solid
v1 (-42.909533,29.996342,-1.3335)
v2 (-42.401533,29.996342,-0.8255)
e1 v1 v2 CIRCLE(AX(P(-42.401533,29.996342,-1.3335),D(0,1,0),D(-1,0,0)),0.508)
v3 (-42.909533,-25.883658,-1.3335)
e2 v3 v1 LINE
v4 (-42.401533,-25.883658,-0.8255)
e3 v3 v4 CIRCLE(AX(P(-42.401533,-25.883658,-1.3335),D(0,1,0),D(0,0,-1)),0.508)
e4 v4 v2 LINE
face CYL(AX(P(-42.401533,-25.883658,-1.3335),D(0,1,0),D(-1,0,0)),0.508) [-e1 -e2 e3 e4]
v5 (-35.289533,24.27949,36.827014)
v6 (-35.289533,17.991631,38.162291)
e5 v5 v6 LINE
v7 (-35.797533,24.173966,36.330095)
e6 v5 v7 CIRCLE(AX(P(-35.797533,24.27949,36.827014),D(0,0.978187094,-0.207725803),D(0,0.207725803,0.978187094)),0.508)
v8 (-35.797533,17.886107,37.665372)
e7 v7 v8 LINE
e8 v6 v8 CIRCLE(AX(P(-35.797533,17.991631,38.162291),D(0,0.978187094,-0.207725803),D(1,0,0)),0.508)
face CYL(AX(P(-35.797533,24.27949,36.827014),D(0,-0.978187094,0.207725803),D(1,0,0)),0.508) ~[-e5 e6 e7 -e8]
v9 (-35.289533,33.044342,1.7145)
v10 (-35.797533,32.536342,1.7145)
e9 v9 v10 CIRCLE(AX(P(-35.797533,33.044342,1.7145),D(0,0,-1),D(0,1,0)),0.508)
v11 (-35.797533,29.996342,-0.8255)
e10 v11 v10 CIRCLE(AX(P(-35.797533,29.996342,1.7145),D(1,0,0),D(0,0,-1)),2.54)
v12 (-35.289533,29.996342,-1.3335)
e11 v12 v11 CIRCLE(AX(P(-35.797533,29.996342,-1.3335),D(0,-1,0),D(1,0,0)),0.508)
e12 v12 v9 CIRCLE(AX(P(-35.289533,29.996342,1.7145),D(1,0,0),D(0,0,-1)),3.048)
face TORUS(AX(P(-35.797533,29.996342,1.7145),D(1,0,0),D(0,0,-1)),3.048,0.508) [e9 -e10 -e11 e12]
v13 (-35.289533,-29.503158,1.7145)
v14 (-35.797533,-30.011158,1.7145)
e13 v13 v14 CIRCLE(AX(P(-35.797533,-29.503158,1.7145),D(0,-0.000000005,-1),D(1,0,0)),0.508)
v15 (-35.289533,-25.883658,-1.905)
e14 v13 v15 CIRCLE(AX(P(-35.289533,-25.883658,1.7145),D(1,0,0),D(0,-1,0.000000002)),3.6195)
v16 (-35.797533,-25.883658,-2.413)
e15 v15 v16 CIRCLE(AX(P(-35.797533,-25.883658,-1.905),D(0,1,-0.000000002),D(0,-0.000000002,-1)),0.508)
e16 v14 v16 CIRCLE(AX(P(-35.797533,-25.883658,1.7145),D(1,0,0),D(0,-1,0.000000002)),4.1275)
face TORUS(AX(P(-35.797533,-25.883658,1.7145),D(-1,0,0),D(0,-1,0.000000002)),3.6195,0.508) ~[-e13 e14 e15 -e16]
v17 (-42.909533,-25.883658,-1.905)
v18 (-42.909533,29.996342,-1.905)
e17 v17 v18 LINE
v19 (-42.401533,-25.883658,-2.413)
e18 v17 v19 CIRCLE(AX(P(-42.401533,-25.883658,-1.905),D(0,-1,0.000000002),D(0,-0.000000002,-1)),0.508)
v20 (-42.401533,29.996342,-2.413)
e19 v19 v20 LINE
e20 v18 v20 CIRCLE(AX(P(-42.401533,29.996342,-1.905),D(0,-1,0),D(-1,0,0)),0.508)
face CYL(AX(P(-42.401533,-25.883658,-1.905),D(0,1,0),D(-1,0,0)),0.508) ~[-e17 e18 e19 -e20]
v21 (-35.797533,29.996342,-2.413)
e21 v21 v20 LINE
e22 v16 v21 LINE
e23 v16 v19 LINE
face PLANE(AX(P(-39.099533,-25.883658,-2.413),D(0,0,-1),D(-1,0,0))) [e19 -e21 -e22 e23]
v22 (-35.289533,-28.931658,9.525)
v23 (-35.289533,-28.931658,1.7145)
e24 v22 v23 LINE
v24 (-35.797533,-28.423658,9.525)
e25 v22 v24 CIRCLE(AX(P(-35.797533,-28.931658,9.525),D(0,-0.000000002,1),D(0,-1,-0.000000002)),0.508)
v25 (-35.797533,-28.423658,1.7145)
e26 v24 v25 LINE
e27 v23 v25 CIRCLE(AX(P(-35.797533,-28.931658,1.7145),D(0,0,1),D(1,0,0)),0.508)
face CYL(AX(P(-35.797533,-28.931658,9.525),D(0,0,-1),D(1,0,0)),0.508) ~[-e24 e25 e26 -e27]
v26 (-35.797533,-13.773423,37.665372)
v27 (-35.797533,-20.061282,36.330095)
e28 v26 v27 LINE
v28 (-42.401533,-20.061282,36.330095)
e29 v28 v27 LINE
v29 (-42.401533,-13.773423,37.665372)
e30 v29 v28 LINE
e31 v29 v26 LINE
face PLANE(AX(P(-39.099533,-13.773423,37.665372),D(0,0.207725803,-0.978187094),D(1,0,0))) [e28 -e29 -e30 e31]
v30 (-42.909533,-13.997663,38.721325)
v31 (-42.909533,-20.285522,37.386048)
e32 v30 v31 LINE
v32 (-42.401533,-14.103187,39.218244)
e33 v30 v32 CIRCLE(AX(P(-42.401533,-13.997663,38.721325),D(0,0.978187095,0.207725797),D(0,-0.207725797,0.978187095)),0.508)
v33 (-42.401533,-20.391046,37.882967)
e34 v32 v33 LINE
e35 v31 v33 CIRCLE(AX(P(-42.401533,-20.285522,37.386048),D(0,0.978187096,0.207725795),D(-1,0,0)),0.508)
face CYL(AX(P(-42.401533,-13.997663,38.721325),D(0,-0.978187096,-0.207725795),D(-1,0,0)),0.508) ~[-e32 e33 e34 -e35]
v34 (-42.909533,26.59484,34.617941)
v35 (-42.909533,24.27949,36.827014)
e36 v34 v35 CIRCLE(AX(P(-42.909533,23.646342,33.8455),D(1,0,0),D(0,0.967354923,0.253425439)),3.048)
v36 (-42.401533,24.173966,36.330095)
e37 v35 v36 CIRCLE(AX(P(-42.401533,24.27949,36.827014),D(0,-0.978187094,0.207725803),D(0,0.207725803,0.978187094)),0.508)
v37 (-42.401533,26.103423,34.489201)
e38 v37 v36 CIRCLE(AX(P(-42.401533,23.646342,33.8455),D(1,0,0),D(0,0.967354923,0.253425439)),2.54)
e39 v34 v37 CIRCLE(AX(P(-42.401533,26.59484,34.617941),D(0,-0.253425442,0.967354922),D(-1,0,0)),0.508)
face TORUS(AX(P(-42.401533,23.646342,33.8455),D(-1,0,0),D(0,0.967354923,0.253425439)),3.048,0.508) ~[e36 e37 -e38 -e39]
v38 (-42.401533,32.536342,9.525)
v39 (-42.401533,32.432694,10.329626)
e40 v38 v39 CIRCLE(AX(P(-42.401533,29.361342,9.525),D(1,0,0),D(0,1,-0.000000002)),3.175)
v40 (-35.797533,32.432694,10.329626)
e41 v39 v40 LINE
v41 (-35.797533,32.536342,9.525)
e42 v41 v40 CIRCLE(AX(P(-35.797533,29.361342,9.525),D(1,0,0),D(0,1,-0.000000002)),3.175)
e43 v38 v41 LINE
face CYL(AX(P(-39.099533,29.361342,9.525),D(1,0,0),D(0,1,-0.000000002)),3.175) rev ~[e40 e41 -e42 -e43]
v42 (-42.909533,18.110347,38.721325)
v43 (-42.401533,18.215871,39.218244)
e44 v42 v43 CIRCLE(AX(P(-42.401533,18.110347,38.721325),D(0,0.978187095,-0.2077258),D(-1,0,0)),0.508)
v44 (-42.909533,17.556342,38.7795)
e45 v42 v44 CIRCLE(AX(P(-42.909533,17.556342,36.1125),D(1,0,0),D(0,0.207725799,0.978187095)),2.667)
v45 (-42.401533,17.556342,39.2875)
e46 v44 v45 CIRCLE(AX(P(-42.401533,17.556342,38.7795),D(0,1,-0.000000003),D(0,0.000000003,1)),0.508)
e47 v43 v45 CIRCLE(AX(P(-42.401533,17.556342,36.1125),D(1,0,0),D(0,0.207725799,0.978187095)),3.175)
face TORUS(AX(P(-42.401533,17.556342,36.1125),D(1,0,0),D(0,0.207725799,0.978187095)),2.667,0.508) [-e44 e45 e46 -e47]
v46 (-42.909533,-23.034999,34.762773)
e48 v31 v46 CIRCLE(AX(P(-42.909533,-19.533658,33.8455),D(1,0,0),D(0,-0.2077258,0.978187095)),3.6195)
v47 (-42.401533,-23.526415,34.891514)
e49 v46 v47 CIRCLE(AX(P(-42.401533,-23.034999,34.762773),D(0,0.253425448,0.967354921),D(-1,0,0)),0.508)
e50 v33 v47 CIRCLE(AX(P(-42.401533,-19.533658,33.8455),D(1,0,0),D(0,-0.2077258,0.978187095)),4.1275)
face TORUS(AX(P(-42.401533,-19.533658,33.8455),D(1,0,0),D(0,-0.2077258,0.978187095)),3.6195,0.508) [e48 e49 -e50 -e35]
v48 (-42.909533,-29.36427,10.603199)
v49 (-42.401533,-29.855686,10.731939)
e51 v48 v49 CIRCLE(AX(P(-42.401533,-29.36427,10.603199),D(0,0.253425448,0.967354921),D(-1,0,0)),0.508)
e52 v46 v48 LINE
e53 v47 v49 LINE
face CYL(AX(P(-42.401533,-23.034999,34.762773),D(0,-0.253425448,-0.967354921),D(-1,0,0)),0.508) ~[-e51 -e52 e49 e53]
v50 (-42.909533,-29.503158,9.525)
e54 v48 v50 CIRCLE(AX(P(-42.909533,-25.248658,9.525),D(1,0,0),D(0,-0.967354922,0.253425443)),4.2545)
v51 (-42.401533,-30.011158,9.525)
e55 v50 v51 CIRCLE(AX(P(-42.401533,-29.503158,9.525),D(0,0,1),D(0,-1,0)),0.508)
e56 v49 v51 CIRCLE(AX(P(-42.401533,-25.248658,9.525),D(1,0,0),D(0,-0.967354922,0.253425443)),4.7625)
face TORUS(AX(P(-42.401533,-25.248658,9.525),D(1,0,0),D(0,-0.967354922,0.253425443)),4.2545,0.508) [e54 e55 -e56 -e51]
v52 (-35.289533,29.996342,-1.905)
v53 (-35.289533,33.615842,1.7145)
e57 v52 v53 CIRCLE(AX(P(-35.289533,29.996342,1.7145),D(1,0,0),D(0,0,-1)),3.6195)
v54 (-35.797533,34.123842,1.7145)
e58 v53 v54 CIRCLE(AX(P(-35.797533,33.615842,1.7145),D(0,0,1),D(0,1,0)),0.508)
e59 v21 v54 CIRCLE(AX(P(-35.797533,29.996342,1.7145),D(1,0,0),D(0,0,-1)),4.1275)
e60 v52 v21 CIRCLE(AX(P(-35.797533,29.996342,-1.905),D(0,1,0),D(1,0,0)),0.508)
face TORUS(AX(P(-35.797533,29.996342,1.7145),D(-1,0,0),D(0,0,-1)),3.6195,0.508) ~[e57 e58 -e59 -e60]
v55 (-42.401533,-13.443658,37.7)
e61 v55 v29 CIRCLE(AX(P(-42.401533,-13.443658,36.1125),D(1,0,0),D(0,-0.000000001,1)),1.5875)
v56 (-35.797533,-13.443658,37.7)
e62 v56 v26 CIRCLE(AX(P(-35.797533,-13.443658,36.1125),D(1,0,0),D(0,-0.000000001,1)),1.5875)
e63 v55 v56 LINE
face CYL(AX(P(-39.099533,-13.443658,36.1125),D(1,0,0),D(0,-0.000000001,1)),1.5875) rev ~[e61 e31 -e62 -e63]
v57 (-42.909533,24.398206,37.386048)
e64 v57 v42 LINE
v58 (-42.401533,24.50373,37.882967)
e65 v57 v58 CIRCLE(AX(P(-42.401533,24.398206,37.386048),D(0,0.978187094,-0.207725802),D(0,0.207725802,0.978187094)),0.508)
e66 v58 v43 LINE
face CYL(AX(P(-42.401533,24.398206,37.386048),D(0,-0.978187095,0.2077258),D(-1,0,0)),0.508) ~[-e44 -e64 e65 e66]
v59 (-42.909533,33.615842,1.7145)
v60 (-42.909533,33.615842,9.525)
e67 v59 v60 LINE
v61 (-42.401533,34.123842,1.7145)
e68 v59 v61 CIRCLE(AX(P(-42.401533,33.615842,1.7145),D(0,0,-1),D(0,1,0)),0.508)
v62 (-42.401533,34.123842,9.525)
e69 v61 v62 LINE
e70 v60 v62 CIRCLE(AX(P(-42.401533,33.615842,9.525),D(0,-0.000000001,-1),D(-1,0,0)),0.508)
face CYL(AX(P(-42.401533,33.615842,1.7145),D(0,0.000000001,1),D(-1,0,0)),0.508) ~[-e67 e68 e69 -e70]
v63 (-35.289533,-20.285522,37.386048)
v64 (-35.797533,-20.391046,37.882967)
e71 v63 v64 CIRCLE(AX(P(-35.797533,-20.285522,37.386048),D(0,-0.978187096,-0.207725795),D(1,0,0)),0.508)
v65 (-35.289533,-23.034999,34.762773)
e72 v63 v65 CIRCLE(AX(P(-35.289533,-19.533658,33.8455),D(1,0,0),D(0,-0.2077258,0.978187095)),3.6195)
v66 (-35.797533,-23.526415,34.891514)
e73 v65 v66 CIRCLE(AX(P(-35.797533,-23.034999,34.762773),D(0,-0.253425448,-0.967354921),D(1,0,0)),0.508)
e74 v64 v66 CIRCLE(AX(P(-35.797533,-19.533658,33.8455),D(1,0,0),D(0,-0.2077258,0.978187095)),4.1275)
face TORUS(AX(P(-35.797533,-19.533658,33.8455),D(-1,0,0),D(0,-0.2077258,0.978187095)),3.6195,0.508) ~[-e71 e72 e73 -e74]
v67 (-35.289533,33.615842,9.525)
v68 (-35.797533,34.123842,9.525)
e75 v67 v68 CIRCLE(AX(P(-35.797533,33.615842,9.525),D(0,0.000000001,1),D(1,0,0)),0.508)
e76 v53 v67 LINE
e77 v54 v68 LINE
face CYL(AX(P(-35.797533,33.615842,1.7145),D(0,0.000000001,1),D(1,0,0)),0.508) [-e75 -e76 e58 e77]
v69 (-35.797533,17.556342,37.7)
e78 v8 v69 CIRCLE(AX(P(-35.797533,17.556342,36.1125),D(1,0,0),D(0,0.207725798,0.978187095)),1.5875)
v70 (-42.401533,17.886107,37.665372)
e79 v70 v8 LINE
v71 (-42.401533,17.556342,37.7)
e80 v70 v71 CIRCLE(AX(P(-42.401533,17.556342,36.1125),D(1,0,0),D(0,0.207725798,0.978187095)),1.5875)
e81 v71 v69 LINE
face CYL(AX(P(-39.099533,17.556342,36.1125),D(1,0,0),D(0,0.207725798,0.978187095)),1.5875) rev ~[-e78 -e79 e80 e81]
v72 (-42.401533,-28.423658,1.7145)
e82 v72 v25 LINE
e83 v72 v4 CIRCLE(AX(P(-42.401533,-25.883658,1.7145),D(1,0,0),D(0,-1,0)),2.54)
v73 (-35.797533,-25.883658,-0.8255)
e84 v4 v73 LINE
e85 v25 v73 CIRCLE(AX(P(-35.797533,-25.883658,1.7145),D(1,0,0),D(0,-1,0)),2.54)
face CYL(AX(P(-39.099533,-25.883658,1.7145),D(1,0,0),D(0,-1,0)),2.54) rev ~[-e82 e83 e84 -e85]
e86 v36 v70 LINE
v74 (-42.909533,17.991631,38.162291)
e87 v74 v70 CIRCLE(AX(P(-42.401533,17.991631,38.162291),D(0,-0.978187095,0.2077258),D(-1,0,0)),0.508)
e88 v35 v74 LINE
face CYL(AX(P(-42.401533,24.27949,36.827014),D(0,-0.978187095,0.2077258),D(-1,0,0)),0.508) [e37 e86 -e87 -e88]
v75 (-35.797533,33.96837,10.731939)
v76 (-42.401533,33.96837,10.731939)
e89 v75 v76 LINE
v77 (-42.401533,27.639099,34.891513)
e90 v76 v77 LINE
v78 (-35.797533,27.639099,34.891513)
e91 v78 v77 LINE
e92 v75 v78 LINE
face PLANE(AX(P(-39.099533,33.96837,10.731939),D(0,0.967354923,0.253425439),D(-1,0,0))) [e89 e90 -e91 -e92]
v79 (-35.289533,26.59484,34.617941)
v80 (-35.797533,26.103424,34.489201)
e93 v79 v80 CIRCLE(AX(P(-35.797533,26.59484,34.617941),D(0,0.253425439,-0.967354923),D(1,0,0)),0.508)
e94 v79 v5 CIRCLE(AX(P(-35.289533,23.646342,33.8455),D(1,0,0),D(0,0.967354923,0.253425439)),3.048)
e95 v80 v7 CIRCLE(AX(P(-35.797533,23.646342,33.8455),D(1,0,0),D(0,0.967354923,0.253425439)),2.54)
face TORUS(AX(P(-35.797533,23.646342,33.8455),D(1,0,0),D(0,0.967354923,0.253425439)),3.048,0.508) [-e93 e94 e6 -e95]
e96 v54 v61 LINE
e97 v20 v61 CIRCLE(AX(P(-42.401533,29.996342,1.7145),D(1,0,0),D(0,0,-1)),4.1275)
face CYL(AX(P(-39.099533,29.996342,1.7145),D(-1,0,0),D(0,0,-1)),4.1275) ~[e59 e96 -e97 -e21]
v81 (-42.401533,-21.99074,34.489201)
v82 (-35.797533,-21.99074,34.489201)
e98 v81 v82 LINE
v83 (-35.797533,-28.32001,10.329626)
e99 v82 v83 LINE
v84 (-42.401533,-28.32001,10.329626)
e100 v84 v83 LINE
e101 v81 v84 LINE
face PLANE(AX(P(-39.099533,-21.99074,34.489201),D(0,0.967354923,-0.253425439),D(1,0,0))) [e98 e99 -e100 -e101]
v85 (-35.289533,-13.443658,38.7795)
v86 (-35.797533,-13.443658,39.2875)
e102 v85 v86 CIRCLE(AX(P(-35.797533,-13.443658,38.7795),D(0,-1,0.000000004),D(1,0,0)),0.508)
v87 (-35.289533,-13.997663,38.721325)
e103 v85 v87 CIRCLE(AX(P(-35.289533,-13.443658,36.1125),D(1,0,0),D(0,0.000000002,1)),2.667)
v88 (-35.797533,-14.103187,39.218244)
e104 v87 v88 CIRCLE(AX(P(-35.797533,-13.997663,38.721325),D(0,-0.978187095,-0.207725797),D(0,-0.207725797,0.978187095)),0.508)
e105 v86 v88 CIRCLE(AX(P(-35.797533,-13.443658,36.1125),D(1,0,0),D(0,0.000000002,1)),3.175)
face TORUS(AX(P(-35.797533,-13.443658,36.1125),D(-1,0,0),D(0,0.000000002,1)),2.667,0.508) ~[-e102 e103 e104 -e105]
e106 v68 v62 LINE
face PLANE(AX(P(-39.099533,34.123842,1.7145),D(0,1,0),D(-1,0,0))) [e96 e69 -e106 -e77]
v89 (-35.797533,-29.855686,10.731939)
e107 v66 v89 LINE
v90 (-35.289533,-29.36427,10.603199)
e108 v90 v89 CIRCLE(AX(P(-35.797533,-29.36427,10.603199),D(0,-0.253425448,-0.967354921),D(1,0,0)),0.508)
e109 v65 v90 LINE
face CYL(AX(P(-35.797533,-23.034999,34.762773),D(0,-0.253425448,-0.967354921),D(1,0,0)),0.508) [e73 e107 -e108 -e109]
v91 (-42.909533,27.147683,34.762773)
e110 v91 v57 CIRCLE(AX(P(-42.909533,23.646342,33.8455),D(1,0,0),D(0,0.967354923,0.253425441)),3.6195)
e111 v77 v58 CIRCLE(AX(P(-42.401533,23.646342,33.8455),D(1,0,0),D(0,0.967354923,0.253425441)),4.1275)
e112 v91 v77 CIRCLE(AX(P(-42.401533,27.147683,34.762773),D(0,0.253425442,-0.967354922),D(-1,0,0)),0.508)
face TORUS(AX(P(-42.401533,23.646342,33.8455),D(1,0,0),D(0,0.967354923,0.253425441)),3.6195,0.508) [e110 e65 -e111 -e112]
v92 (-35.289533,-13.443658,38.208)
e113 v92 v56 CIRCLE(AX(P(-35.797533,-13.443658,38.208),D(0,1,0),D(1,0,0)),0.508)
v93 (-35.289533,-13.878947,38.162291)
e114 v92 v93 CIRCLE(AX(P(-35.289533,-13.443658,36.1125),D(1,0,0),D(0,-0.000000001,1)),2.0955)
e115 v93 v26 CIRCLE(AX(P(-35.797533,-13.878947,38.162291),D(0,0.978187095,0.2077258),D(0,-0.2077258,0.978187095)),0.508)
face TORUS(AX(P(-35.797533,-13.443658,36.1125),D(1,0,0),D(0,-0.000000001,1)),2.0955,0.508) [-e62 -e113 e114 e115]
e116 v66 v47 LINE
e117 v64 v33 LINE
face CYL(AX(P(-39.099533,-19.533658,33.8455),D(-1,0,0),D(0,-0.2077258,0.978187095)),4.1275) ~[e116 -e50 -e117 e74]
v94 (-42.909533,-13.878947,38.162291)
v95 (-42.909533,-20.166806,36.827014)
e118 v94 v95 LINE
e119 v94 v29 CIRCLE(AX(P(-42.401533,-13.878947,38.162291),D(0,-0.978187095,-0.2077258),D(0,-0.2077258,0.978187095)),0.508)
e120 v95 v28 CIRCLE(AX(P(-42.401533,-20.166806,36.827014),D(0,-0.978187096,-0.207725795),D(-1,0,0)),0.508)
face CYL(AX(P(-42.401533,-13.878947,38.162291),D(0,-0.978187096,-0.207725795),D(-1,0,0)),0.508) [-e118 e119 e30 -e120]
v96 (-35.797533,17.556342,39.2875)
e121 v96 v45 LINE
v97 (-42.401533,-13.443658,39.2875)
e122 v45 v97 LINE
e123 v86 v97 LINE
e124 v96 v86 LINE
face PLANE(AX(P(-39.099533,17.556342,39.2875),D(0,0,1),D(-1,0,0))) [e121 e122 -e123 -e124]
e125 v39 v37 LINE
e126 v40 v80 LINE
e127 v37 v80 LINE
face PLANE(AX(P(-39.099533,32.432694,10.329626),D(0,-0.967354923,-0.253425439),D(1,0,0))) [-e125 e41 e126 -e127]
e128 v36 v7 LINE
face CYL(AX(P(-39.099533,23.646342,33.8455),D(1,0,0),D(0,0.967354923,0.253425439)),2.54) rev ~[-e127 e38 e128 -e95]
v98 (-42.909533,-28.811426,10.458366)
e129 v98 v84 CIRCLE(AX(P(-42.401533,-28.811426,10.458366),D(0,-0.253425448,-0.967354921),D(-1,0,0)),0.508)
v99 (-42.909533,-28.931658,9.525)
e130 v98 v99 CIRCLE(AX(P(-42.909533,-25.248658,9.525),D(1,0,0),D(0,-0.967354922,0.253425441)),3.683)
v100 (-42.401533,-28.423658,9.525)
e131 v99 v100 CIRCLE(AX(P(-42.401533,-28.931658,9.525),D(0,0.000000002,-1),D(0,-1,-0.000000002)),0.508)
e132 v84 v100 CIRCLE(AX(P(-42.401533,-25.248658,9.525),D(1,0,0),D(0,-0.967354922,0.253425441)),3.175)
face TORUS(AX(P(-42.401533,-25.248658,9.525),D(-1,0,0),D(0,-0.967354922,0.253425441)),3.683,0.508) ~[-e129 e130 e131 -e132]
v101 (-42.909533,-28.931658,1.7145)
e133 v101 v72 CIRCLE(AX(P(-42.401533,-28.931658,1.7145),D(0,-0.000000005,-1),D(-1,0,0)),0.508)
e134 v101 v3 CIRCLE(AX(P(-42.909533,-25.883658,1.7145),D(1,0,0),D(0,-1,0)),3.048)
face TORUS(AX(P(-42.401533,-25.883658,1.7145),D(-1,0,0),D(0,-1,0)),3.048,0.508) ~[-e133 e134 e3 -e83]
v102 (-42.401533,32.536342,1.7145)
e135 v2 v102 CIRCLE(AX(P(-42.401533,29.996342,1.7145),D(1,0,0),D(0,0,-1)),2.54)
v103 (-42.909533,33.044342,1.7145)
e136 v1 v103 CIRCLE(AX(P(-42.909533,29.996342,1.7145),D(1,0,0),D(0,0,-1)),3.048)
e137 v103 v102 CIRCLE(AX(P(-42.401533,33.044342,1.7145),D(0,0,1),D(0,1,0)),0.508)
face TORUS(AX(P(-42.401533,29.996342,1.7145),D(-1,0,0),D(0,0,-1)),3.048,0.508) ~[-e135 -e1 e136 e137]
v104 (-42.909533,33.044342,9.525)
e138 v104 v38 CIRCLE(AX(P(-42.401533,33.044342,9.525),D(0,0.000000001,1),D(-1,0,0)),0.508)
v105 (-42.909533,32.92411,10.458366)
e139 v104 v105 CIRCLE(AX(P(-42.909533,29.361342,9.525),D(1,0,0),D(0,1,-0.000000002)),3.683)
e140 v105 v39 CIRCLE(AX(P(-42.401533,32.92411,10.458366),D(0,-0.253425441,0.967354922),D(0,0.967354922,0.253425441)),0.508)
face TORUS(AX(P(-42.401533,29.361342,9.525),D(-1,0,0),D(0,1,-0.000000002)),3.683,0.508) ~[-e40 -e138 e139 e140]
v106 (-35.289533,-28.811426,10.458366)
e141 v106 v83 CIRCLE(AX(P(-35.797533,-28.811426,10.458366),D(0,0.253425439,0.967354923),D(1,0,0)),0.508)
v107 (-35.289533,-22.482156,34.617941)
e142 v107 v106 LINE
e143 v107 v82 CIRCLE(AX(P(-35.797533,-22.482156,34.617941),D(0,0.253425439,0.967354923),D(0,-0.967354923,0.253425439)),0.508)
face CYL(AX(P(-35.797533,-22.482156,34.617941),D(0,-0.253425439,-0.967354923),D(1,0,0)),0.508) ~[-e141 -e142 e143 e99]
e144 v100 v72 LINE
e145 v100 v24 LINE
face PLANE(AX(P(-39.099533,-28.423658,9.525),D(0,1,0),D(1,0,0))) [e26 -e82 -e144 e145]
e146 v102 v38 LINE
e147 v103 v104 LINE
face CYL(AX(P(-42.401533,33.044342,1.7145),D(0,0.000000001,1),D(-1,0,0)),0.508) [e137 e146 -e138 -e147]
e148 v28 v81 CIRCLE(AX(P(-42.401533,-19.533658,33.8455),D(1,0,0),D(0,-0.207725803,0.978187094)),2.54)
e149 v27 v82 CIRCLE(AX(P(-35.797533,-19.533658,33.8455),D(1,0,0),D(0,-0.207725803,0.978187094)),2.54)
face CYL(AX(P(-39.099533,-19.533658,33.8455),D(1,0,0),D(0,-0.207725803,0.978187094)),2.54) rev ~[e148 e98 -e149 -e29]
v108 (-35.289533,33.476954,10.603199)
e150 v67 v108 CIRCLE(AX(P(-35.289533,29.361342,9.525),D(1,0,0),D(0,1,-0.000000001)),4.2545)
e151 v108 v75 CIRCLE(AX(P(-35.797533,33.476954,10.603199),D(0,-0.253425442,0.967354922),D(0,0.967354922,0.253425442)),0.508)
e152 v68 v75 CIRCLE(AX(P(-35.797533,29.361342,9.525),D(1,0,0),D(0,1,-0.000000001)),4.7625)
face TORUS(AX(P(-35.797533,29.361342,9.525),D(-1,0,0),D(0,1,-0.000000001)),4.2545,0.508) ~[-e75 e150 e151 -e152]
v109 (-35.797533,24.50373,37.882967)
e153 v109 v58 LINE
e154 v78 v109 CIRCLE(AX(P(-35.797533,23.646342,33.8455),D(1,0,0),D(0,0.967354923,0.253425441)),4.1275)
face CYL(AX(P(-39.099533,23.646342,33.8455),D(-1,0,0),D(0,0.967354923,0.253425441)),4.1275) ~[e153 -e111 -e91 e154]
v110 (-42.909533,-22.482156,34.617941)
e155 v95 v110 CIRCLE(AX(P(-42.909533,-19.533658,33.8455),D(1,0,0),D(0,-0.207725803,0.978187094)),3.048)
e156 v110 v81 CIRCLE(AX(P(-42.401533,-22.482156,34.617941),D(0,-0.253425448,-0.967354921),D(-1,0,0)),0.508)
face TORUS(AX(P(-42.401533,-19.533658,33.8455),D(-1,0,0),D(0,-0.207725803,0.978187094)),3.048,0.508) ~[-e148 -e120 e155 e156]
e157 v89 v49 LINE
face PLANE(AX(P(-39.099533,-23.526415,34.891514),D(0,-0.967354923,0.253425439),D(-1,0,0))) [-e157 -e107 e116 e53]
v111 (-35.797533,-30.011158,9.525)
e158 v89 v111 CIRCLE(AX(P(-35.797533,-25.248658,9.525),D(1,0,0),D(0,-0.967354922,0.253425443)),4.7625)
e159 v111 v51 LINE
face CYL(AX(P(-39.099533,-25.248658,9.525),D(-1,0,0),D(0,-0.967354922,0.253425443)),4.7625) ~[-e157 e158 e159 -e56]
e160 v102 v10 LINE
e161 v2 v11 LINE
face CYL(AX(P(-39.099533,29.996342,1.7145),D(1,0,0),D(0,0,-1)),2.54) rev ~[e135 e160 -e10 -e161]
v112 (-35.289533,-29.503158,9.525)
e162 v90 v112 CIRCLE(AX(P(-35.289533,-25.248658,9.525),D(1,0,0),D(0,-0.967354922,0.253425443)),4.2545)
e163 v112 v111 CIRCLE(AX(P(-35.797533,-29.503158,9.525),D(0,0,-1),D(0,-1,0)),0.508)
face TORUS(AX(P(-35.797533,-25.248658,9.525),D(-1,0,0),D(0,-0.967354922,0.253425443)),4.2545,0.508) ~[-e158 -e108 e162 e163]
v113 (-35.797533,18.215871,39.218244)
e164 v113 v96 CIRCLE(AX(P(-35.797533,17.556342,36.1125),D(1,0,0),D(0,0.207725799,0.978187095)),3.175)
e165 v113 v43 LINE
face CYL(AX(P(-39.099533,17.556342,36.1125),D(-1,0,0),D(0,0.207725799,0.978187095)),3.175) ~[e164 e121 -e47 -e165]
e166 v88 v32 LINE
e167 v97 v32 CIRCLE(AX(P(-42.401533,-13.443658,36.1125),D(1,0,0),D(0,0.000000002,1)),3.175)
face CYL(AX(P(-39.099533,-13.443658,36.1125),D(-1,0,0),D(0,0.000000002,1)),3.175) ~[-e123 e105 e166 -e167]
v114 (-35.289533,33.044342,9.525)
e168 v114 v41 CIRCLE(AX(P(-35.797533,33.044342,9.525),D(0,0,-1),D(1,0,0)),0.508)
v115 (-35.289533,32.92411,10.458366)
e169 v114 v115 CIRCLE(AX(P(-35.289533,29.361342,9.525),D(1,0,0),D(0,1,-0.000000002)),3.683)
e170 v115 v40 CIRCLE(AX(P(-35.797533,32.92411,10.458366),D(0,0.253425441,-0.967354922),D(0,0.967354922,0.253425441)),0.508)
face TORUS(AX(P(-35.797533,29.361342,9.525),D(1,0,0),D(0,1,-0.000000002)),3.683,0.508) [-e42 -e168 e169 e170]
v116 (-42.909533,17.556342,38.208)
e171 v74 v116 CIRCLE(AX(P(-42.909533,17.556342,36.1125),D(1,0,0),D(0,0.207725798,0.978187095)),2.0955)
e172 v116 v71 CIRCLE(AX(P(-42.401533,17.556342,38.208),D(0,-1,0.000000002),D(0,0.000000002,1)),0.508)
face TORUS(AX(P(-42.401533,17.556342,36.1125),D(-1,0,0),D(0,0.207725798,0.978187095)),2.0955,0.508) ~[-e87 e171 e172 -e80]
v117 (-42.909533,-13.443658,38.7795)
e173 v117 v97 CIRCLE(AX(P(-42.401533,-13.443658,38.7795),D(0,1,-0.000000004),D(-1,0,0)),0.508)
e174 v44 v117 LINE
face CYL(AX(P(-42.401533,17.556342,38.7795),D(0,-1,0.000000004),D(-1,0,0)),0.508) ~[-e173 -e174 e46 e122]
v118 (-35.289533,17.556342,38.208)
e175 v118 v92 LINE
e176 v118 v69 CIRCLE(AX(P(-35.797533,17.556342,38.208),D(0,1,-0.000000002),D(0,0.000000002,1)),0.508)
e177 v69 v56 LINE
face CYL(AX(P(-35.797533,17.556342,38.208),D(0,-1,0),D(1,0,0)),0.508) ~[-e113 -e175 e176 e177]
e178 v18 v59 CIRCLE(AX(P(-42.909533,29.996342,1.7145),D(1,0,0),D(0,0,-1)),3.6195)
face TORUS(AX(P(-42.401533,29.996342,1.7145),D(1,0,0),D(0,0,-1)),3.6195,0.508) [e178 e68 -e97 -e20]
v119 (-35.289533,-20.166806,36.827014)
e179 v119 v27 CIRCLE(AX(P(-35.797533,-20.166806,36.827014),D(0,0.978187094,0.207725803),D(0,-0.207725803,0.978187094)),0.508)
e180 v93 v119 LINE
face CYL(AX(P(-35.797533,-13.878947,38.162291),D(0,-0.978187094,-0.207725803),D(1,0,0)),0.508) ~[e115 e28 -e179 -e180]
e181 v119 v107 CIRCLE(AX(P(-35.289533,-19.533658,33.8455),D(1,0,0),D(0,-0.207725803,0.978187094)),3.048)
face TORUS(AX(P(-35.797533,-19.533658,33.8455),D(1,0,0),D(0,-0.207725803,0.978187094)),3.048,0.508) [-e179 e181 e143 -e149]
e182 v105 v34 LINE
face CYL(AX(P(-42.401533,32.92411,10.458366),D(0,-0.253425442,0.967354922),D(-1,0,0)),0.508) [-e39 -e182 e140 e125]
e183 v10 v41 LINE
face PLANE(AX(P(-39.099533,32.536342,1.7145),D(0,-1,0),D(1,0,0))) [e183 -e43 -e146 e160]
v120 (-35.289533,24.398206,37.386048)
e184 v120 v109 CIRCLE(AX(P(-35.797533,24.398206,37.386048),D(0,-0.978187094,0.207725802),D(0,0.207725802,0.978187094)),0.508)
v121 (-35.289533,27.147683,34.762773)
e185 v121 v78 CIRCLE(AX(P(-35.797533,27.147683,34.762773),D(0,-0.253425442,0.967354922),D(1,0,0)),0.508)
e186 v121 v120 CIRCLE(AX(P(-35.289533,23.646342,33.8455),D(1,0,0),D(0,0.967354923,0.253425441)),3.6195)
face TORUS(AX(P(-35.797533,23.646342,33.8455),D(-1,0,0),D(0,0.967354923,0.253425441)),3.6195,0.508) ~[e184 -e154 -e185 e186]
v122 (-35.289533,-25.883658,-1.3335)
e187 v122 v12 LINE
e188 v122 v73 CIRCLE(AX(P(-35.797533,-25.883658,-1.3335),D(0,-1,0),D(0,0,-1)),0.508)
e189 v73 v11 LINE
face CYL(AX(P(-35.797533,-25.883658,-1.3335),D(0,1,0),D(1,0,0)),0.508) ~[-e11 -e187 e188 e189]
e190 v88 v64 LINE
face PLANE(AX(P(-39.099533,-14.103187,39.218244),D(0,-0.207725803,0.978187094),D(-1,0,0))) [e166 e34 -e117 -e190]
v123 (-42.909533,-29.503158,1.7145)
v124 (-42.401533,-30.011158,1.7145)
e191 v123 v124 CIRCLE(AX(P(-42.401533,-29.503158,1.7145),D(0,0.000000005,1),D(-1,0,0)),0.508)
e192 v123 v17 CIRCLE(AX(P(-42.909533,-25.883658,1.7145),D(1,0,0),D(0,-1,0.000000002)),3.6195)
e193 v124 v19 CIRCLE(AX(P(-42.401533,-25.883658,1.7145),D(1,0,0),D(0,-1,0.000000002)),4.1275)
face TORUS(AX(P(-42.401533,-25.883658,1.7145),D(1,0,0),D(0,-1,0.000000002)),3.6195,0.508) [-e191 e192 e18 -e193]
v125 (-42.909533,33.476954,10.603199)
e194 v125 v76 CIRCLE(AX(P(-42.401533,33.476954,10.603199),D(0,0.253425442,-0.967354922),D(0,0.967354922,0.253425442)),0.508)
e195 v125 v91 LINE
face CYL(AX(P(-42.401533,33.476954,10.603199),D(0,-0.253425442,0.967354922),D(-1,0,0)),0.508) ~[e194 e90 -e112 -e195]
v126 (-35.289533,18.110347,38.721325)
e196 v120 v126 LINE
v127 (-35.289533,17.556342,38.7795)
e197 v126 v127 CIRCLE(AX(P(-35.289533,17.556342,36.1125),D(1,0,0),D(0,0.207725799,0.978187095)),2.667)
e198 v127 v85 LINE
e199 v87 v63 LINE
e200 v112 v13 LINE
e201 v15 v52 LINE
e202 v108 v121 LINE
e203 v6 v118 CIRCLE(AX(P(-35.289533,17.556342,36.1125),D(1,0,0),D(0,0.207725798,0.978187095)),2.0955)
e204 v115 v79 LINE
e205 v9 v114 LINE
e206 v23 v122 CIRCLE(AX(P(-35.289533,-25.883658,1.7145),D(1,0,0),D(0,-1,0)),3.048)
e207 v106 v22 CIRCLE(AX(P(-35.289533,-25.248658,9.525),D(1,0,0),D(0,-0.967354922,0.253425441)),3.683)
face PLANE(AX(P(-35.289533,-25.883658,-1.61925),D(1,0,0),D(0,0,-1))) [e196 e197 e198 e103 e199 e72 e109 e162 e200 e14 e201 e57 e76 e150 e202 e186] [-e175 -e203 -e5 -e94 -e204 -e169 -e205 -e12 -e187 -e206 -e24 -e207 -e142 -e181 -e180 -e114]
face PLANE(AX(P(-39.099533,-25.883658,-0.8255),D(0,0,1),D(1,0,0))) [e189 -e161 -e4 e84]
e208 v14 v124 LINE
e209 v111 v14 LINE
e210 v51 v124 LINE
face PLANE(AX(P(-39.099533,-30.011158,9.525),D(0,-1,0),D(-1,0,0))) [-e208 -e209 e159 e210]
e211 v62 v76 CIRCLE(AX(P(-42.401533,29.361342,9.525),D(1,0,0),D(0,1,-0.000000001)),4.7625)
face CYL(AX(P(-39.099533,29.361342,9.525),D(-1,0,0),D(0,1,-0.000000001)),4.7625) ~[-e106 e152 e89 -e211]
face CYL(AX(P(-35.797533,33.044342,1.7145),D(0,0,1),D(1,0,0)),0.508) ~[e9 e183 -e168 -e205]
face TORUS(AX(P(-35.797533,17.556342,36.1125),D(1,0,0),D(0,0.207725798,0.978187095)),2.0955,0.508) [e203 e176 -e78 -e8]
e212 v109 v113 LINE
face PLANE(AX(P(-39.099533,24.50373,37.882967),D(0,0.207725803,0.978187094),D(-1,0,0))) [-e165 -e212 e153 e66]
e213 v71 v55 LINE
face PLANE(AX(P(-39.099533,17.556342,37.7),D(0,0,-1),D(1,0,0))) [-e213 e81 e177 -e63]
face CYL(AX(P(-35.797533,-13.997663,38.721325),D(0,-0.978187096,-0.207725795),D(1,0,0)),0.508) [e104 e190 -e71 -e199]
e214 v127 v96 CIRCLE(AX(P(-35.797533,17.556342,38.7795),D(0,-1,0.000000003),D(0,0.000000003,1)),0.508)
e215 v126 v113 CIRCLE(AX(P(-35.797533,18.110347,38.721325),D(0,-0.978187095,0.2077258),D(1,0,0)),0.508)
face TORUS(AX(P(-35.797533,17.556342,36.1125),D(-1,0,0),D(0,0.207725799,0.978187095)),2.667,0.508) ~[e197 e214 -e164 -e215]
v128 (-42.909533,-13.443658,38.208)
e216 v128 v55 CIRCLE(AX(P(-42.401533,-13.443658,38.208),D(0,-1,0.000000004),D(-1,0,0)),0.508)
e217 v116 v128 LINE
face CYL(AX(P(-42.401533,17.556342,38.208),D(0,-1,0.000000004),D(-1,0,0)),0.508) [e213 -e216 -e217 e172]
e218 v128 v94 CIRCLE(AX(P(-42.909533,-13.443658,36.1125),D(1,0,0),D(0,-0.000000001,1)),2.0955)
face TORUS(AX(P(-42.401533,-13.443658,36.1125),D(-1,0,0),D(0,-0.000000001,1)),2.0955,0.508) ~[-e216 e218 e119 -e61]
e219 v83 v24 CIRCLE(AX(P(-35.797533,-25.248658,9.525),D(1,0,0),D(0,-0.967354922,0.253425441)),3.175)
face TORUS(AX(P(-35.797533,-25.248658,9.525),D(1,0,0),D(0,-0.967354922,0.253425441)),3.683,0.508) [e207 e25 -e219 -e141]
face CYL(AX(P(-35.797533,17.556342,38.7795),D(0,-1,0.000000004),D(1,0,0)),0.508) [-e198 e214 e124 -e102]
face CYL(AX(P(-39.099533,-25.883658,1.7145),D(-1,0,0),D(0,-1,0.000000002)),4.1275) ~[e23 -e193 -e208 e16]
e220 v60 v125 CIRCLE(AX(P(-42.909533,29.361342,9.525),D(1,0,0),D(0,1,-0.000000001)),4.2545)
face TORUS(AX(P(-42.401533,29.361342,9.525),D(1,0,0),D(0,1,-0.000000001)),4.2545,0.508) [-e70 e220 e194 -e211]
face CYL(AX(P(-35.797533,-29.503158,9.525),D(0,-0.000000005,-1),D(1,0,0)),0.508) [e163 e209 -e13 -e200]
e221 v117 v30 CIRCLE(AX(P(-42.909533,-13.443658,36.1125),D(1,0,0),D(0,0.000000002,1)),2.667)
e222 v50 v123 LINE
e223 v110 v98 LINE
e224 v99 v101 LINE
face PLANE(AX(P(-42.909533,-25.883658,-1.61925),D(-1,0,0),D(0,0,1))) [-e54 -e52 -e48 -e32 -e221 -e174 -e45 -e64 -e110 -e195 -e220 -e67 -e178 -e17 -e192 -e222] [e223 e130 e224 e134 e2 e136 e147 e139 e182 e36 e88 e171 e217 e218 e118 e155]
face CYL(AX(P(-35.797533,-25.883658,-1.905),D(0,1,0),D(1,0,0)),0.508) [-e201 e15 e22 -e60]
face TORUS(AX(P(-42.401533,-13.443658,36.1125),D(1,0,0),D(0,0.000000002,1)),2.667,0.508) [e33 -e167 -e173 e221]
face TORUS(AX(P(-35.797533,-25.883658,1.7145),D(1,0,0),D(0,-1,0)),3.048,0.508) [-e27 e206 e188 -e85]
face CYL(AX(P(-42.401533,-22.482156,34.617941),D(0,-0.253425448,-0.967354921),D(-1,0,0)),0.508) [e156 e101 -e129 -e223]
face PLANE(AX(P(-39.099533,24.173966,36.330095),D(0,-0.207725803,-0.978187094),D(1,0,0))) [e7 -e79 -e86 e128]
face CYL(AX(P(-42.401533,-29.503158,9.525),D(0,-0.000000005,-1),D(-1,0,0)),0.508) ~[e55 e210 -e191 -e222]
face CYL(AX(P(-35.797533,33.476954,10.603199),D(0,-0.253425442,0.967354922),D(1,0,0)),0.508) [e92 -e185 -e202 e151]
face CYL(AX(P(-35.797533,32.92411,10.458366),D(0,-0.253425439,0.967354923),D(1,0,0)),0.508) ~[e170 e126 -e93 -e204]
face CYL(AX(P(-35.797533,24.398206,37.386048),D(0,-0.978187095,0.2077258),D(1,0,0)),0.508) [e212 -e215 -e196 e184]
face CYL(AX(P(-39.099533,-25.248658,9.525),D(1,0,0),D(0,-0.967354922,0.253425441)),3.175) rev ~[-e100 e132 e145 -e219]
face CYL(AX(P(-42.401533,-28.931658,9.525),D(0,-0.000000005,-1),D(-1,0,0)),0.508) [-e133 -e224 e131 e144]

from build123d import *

# Parameters (mm, degrees)
SKETCH3_W = 7.62
SKETCH3_H = 1.5875
FILLET1_R = 0.508


with BuildPart() as part:
    # Sweep1: sweep along a path in Sketch2
    with BuildLine(Plane(origin=(-39.099532927, 0, 0), x_dir=(0, 0, -1), z_dir=(1, 0, 0))) as sweep1_path:
        Line((0.8255, -25.883657999), (0.8255, 29.996342001))
        ThreePointArc((0.8255, 29.996342001), (0.081551224, 31.792393225), (-1.7145, 32.536342001))
        Line((-1.7145, 32.536342001), (-9.525, 32.536342001))
        ThreePointArc((-9.525, 32.536342001), (-9.930637017, 32.510323362), (-10.329625768, 32.432693881))
        Line((-10.329625768, 32.432693881), (-34.489200615, 26.103423505))
        ThreePointArc((-34.489200615, 26.103423505), (-35.683232492, 25.399721391), (-36.330095218, 24.173965541))
        Line((-36.330095218, 24.173965541), (-37.665372012, 17.886106714))
        ThreePointArc((-37.665372012, 17.886106714), (-37.691319269, 17.72213092), (-37.7, 17.556342001))
        Line((-37.7, 17.556342001), (-37.7, -13.443657999))
        ThreePointArc((-37.7, -13.443657999), (-37.691319269, -13.609446919), (-37.665372012, -13.773422712))
        Line((-37.665372012, -13.773422712), (-36.330095218, -20.061281539))
        ThreePointArc((-36.330095218, -20.061281539), (-35.683232492, -21.287037389), (-34.489200615, -21.990739503))
        Line((-34.489200615, -21.990739503), (-10.329625768, -28.320009879))
        ThreePointArc((-10.329625768, -28.320009879), (-9.930637017, -28.39763936), (-9.525, -28.423657999))
        Line((-9.525, -28.423657999), (-1.7145, -28.423657999))
        ThreePointArc((-1.7145, -28.423657999), (0.081551224, -27.679709223), (0.8255, -25.883657999))
    # Sketch3 → Sweep1 (sweep)
    with BuildSketch(Plane(origin=(0, 0, 0), x_dir=(1, 0, 0), z_dir=(0, 1, 0))):
        with Locations((-39.099532927, 1.61925)):
            Rectangle(SKETCH3_W, SKETCH3_H)
    sweep(path=sweep1_path.line)

    # Fillet1
    fillet1_edges = [part.edges().sort_by_distance(p)[0] for p in [
        (-35.289532927, -26.691050632, 22.811726076),
        (-42.909532927, -26.691050632, 22.811726076),
        (-42.909532927, -25.155374691, 22.409413191),
        (-35.289532927, -21.287037389, 35.683232492),
        (-35.289532927, -22.382899508, 36.8318153),
        (-42.909532927, -22.382899508, 36.8318153),
        (-42.909532927, -21.287037389, 35.683232492),
        (-35.289532927, -16.917352126, 36.997733615),
        (-35.289532927, -17.247116838, 38.550605627),
        (-42.909532927, -17.247116838, 38.550605627),
        (-42.909532927, -16.917352126, 36.997733615),
        (-35.289532927, -13.609446919, 37.691319269),
        (-35.289532927, -13.775235838, 39.270138538),
        (-42.909532927, -13.775235838, 39.270138538),
        (-35.289532927, 2.056342001, -0.8255),
        (-42.909532927, -13.609446919, 37.691319269),
        (-35.289532927, 2.056342001, 37.7),
        (-35.289532927, 2.056342001, 39.2875),
        (-42.909532927, 2.056342001, 39.2875),
        (-42.909532927, 2.056342001, 37.7),
        (-35.289532927, 2.056342001, -2.413),
        (-35.289532927, 17.72213092, 37.691319269),
        (-35.289532927, 17.88791984, 39.270138538),
        (-42.909532927, 17.88791984, 39.270138538),
        (-42.909532927, 17.72213092, 37.691319269),
        (-35.289532927, 21.030036127, 36.997733615),
        (-35.289532927, 21.35980084, 38.550605627),
        (-42.909532927, 21.35980084, 38.550605627),
        (-42.909532927, 2.056342001, -2.413),
        (-42.909532927, 21.030036127, 36.997733615),
        (-35.289532927, 25.399721391, 35.683232492),
        (-35.289532927, 26.49558351, 36.8318153),
        (-42.909532927, 26.49558351, 36.8318153),
        (-42.909532927, 25.399721391, 35.683232492),
        (-35.289532927, 29.268058693, 22.409413191),
        (-35.289532927, 30.803734633, 22.811726076),
        (-42.909532927, 30.803734633, 22.811726076),
        (-42.909532927, 29.268058693, 22.409413191),
        (-35.289532927, 32.510323362, 9.930637017),
        (-42.909532927, 2.056342001, -0.8255),
        (-35.289532927, 34.084814042, 10.133455526),
        (-42.909532927, 34.084814042, 10.133455526),
        (-42.909532927, 32.510323362, 9.930637017),
        (-35.289532927, 32.536342001, 5.61975),
        (-35.289532927, 34.123842001, 5.61975),
        (-42.909532927, 34.123842001, 5.61975),
        (-42.909532927, 32.536342001, 5.61975),
        (-35.289532927, 31.792393225, -0.081551224),
        (-35.289532927, 32.91492524, -1.204083239),
        (-42.909532927, 32.91492524, -1.204083239),
        (-42.909532927, 31.792393225, -0.081551224),
        (-35.289532927, 2.056342001, -0.8255),
        (-35.289532927, 2.056342001, -2.413),
        (-42.909532927, 2.056342001, -2.413),
        (-42.909532927, 2.056342001, -0.8255),
        (-35.289532927, -27.679709223, -0.081551224),
        (-35.289532927, -28.802241238, -1.204083239),
        (-42.909532927, -28.802241238, -1.204083239),
        (-42.909532927, -27.679709223, -0.081551224),
        (-35.289532927, -28.423657999, 5.61975),
        (-35.289532927, -30.011157999, 5.61975),
        (-42.909532927, -30.011157999, 5.61975),
        (-42.909532927, -28.423657999, 5.61975),
        (-35.289532927, -28.39763936, 9.930637017),
        (-35.289532927, -29.97213004, 10.133455526),
        (-42.909532927, -29.97213004, 10.133455526),
        (-42.909532927, -28.39763936, 9.930637017),
        (-35.289532927, -25.155374691, 22.409413191),
    ]]
    fillet(fillet1_edges, radius=FILLET1_R)


solid = part.part
